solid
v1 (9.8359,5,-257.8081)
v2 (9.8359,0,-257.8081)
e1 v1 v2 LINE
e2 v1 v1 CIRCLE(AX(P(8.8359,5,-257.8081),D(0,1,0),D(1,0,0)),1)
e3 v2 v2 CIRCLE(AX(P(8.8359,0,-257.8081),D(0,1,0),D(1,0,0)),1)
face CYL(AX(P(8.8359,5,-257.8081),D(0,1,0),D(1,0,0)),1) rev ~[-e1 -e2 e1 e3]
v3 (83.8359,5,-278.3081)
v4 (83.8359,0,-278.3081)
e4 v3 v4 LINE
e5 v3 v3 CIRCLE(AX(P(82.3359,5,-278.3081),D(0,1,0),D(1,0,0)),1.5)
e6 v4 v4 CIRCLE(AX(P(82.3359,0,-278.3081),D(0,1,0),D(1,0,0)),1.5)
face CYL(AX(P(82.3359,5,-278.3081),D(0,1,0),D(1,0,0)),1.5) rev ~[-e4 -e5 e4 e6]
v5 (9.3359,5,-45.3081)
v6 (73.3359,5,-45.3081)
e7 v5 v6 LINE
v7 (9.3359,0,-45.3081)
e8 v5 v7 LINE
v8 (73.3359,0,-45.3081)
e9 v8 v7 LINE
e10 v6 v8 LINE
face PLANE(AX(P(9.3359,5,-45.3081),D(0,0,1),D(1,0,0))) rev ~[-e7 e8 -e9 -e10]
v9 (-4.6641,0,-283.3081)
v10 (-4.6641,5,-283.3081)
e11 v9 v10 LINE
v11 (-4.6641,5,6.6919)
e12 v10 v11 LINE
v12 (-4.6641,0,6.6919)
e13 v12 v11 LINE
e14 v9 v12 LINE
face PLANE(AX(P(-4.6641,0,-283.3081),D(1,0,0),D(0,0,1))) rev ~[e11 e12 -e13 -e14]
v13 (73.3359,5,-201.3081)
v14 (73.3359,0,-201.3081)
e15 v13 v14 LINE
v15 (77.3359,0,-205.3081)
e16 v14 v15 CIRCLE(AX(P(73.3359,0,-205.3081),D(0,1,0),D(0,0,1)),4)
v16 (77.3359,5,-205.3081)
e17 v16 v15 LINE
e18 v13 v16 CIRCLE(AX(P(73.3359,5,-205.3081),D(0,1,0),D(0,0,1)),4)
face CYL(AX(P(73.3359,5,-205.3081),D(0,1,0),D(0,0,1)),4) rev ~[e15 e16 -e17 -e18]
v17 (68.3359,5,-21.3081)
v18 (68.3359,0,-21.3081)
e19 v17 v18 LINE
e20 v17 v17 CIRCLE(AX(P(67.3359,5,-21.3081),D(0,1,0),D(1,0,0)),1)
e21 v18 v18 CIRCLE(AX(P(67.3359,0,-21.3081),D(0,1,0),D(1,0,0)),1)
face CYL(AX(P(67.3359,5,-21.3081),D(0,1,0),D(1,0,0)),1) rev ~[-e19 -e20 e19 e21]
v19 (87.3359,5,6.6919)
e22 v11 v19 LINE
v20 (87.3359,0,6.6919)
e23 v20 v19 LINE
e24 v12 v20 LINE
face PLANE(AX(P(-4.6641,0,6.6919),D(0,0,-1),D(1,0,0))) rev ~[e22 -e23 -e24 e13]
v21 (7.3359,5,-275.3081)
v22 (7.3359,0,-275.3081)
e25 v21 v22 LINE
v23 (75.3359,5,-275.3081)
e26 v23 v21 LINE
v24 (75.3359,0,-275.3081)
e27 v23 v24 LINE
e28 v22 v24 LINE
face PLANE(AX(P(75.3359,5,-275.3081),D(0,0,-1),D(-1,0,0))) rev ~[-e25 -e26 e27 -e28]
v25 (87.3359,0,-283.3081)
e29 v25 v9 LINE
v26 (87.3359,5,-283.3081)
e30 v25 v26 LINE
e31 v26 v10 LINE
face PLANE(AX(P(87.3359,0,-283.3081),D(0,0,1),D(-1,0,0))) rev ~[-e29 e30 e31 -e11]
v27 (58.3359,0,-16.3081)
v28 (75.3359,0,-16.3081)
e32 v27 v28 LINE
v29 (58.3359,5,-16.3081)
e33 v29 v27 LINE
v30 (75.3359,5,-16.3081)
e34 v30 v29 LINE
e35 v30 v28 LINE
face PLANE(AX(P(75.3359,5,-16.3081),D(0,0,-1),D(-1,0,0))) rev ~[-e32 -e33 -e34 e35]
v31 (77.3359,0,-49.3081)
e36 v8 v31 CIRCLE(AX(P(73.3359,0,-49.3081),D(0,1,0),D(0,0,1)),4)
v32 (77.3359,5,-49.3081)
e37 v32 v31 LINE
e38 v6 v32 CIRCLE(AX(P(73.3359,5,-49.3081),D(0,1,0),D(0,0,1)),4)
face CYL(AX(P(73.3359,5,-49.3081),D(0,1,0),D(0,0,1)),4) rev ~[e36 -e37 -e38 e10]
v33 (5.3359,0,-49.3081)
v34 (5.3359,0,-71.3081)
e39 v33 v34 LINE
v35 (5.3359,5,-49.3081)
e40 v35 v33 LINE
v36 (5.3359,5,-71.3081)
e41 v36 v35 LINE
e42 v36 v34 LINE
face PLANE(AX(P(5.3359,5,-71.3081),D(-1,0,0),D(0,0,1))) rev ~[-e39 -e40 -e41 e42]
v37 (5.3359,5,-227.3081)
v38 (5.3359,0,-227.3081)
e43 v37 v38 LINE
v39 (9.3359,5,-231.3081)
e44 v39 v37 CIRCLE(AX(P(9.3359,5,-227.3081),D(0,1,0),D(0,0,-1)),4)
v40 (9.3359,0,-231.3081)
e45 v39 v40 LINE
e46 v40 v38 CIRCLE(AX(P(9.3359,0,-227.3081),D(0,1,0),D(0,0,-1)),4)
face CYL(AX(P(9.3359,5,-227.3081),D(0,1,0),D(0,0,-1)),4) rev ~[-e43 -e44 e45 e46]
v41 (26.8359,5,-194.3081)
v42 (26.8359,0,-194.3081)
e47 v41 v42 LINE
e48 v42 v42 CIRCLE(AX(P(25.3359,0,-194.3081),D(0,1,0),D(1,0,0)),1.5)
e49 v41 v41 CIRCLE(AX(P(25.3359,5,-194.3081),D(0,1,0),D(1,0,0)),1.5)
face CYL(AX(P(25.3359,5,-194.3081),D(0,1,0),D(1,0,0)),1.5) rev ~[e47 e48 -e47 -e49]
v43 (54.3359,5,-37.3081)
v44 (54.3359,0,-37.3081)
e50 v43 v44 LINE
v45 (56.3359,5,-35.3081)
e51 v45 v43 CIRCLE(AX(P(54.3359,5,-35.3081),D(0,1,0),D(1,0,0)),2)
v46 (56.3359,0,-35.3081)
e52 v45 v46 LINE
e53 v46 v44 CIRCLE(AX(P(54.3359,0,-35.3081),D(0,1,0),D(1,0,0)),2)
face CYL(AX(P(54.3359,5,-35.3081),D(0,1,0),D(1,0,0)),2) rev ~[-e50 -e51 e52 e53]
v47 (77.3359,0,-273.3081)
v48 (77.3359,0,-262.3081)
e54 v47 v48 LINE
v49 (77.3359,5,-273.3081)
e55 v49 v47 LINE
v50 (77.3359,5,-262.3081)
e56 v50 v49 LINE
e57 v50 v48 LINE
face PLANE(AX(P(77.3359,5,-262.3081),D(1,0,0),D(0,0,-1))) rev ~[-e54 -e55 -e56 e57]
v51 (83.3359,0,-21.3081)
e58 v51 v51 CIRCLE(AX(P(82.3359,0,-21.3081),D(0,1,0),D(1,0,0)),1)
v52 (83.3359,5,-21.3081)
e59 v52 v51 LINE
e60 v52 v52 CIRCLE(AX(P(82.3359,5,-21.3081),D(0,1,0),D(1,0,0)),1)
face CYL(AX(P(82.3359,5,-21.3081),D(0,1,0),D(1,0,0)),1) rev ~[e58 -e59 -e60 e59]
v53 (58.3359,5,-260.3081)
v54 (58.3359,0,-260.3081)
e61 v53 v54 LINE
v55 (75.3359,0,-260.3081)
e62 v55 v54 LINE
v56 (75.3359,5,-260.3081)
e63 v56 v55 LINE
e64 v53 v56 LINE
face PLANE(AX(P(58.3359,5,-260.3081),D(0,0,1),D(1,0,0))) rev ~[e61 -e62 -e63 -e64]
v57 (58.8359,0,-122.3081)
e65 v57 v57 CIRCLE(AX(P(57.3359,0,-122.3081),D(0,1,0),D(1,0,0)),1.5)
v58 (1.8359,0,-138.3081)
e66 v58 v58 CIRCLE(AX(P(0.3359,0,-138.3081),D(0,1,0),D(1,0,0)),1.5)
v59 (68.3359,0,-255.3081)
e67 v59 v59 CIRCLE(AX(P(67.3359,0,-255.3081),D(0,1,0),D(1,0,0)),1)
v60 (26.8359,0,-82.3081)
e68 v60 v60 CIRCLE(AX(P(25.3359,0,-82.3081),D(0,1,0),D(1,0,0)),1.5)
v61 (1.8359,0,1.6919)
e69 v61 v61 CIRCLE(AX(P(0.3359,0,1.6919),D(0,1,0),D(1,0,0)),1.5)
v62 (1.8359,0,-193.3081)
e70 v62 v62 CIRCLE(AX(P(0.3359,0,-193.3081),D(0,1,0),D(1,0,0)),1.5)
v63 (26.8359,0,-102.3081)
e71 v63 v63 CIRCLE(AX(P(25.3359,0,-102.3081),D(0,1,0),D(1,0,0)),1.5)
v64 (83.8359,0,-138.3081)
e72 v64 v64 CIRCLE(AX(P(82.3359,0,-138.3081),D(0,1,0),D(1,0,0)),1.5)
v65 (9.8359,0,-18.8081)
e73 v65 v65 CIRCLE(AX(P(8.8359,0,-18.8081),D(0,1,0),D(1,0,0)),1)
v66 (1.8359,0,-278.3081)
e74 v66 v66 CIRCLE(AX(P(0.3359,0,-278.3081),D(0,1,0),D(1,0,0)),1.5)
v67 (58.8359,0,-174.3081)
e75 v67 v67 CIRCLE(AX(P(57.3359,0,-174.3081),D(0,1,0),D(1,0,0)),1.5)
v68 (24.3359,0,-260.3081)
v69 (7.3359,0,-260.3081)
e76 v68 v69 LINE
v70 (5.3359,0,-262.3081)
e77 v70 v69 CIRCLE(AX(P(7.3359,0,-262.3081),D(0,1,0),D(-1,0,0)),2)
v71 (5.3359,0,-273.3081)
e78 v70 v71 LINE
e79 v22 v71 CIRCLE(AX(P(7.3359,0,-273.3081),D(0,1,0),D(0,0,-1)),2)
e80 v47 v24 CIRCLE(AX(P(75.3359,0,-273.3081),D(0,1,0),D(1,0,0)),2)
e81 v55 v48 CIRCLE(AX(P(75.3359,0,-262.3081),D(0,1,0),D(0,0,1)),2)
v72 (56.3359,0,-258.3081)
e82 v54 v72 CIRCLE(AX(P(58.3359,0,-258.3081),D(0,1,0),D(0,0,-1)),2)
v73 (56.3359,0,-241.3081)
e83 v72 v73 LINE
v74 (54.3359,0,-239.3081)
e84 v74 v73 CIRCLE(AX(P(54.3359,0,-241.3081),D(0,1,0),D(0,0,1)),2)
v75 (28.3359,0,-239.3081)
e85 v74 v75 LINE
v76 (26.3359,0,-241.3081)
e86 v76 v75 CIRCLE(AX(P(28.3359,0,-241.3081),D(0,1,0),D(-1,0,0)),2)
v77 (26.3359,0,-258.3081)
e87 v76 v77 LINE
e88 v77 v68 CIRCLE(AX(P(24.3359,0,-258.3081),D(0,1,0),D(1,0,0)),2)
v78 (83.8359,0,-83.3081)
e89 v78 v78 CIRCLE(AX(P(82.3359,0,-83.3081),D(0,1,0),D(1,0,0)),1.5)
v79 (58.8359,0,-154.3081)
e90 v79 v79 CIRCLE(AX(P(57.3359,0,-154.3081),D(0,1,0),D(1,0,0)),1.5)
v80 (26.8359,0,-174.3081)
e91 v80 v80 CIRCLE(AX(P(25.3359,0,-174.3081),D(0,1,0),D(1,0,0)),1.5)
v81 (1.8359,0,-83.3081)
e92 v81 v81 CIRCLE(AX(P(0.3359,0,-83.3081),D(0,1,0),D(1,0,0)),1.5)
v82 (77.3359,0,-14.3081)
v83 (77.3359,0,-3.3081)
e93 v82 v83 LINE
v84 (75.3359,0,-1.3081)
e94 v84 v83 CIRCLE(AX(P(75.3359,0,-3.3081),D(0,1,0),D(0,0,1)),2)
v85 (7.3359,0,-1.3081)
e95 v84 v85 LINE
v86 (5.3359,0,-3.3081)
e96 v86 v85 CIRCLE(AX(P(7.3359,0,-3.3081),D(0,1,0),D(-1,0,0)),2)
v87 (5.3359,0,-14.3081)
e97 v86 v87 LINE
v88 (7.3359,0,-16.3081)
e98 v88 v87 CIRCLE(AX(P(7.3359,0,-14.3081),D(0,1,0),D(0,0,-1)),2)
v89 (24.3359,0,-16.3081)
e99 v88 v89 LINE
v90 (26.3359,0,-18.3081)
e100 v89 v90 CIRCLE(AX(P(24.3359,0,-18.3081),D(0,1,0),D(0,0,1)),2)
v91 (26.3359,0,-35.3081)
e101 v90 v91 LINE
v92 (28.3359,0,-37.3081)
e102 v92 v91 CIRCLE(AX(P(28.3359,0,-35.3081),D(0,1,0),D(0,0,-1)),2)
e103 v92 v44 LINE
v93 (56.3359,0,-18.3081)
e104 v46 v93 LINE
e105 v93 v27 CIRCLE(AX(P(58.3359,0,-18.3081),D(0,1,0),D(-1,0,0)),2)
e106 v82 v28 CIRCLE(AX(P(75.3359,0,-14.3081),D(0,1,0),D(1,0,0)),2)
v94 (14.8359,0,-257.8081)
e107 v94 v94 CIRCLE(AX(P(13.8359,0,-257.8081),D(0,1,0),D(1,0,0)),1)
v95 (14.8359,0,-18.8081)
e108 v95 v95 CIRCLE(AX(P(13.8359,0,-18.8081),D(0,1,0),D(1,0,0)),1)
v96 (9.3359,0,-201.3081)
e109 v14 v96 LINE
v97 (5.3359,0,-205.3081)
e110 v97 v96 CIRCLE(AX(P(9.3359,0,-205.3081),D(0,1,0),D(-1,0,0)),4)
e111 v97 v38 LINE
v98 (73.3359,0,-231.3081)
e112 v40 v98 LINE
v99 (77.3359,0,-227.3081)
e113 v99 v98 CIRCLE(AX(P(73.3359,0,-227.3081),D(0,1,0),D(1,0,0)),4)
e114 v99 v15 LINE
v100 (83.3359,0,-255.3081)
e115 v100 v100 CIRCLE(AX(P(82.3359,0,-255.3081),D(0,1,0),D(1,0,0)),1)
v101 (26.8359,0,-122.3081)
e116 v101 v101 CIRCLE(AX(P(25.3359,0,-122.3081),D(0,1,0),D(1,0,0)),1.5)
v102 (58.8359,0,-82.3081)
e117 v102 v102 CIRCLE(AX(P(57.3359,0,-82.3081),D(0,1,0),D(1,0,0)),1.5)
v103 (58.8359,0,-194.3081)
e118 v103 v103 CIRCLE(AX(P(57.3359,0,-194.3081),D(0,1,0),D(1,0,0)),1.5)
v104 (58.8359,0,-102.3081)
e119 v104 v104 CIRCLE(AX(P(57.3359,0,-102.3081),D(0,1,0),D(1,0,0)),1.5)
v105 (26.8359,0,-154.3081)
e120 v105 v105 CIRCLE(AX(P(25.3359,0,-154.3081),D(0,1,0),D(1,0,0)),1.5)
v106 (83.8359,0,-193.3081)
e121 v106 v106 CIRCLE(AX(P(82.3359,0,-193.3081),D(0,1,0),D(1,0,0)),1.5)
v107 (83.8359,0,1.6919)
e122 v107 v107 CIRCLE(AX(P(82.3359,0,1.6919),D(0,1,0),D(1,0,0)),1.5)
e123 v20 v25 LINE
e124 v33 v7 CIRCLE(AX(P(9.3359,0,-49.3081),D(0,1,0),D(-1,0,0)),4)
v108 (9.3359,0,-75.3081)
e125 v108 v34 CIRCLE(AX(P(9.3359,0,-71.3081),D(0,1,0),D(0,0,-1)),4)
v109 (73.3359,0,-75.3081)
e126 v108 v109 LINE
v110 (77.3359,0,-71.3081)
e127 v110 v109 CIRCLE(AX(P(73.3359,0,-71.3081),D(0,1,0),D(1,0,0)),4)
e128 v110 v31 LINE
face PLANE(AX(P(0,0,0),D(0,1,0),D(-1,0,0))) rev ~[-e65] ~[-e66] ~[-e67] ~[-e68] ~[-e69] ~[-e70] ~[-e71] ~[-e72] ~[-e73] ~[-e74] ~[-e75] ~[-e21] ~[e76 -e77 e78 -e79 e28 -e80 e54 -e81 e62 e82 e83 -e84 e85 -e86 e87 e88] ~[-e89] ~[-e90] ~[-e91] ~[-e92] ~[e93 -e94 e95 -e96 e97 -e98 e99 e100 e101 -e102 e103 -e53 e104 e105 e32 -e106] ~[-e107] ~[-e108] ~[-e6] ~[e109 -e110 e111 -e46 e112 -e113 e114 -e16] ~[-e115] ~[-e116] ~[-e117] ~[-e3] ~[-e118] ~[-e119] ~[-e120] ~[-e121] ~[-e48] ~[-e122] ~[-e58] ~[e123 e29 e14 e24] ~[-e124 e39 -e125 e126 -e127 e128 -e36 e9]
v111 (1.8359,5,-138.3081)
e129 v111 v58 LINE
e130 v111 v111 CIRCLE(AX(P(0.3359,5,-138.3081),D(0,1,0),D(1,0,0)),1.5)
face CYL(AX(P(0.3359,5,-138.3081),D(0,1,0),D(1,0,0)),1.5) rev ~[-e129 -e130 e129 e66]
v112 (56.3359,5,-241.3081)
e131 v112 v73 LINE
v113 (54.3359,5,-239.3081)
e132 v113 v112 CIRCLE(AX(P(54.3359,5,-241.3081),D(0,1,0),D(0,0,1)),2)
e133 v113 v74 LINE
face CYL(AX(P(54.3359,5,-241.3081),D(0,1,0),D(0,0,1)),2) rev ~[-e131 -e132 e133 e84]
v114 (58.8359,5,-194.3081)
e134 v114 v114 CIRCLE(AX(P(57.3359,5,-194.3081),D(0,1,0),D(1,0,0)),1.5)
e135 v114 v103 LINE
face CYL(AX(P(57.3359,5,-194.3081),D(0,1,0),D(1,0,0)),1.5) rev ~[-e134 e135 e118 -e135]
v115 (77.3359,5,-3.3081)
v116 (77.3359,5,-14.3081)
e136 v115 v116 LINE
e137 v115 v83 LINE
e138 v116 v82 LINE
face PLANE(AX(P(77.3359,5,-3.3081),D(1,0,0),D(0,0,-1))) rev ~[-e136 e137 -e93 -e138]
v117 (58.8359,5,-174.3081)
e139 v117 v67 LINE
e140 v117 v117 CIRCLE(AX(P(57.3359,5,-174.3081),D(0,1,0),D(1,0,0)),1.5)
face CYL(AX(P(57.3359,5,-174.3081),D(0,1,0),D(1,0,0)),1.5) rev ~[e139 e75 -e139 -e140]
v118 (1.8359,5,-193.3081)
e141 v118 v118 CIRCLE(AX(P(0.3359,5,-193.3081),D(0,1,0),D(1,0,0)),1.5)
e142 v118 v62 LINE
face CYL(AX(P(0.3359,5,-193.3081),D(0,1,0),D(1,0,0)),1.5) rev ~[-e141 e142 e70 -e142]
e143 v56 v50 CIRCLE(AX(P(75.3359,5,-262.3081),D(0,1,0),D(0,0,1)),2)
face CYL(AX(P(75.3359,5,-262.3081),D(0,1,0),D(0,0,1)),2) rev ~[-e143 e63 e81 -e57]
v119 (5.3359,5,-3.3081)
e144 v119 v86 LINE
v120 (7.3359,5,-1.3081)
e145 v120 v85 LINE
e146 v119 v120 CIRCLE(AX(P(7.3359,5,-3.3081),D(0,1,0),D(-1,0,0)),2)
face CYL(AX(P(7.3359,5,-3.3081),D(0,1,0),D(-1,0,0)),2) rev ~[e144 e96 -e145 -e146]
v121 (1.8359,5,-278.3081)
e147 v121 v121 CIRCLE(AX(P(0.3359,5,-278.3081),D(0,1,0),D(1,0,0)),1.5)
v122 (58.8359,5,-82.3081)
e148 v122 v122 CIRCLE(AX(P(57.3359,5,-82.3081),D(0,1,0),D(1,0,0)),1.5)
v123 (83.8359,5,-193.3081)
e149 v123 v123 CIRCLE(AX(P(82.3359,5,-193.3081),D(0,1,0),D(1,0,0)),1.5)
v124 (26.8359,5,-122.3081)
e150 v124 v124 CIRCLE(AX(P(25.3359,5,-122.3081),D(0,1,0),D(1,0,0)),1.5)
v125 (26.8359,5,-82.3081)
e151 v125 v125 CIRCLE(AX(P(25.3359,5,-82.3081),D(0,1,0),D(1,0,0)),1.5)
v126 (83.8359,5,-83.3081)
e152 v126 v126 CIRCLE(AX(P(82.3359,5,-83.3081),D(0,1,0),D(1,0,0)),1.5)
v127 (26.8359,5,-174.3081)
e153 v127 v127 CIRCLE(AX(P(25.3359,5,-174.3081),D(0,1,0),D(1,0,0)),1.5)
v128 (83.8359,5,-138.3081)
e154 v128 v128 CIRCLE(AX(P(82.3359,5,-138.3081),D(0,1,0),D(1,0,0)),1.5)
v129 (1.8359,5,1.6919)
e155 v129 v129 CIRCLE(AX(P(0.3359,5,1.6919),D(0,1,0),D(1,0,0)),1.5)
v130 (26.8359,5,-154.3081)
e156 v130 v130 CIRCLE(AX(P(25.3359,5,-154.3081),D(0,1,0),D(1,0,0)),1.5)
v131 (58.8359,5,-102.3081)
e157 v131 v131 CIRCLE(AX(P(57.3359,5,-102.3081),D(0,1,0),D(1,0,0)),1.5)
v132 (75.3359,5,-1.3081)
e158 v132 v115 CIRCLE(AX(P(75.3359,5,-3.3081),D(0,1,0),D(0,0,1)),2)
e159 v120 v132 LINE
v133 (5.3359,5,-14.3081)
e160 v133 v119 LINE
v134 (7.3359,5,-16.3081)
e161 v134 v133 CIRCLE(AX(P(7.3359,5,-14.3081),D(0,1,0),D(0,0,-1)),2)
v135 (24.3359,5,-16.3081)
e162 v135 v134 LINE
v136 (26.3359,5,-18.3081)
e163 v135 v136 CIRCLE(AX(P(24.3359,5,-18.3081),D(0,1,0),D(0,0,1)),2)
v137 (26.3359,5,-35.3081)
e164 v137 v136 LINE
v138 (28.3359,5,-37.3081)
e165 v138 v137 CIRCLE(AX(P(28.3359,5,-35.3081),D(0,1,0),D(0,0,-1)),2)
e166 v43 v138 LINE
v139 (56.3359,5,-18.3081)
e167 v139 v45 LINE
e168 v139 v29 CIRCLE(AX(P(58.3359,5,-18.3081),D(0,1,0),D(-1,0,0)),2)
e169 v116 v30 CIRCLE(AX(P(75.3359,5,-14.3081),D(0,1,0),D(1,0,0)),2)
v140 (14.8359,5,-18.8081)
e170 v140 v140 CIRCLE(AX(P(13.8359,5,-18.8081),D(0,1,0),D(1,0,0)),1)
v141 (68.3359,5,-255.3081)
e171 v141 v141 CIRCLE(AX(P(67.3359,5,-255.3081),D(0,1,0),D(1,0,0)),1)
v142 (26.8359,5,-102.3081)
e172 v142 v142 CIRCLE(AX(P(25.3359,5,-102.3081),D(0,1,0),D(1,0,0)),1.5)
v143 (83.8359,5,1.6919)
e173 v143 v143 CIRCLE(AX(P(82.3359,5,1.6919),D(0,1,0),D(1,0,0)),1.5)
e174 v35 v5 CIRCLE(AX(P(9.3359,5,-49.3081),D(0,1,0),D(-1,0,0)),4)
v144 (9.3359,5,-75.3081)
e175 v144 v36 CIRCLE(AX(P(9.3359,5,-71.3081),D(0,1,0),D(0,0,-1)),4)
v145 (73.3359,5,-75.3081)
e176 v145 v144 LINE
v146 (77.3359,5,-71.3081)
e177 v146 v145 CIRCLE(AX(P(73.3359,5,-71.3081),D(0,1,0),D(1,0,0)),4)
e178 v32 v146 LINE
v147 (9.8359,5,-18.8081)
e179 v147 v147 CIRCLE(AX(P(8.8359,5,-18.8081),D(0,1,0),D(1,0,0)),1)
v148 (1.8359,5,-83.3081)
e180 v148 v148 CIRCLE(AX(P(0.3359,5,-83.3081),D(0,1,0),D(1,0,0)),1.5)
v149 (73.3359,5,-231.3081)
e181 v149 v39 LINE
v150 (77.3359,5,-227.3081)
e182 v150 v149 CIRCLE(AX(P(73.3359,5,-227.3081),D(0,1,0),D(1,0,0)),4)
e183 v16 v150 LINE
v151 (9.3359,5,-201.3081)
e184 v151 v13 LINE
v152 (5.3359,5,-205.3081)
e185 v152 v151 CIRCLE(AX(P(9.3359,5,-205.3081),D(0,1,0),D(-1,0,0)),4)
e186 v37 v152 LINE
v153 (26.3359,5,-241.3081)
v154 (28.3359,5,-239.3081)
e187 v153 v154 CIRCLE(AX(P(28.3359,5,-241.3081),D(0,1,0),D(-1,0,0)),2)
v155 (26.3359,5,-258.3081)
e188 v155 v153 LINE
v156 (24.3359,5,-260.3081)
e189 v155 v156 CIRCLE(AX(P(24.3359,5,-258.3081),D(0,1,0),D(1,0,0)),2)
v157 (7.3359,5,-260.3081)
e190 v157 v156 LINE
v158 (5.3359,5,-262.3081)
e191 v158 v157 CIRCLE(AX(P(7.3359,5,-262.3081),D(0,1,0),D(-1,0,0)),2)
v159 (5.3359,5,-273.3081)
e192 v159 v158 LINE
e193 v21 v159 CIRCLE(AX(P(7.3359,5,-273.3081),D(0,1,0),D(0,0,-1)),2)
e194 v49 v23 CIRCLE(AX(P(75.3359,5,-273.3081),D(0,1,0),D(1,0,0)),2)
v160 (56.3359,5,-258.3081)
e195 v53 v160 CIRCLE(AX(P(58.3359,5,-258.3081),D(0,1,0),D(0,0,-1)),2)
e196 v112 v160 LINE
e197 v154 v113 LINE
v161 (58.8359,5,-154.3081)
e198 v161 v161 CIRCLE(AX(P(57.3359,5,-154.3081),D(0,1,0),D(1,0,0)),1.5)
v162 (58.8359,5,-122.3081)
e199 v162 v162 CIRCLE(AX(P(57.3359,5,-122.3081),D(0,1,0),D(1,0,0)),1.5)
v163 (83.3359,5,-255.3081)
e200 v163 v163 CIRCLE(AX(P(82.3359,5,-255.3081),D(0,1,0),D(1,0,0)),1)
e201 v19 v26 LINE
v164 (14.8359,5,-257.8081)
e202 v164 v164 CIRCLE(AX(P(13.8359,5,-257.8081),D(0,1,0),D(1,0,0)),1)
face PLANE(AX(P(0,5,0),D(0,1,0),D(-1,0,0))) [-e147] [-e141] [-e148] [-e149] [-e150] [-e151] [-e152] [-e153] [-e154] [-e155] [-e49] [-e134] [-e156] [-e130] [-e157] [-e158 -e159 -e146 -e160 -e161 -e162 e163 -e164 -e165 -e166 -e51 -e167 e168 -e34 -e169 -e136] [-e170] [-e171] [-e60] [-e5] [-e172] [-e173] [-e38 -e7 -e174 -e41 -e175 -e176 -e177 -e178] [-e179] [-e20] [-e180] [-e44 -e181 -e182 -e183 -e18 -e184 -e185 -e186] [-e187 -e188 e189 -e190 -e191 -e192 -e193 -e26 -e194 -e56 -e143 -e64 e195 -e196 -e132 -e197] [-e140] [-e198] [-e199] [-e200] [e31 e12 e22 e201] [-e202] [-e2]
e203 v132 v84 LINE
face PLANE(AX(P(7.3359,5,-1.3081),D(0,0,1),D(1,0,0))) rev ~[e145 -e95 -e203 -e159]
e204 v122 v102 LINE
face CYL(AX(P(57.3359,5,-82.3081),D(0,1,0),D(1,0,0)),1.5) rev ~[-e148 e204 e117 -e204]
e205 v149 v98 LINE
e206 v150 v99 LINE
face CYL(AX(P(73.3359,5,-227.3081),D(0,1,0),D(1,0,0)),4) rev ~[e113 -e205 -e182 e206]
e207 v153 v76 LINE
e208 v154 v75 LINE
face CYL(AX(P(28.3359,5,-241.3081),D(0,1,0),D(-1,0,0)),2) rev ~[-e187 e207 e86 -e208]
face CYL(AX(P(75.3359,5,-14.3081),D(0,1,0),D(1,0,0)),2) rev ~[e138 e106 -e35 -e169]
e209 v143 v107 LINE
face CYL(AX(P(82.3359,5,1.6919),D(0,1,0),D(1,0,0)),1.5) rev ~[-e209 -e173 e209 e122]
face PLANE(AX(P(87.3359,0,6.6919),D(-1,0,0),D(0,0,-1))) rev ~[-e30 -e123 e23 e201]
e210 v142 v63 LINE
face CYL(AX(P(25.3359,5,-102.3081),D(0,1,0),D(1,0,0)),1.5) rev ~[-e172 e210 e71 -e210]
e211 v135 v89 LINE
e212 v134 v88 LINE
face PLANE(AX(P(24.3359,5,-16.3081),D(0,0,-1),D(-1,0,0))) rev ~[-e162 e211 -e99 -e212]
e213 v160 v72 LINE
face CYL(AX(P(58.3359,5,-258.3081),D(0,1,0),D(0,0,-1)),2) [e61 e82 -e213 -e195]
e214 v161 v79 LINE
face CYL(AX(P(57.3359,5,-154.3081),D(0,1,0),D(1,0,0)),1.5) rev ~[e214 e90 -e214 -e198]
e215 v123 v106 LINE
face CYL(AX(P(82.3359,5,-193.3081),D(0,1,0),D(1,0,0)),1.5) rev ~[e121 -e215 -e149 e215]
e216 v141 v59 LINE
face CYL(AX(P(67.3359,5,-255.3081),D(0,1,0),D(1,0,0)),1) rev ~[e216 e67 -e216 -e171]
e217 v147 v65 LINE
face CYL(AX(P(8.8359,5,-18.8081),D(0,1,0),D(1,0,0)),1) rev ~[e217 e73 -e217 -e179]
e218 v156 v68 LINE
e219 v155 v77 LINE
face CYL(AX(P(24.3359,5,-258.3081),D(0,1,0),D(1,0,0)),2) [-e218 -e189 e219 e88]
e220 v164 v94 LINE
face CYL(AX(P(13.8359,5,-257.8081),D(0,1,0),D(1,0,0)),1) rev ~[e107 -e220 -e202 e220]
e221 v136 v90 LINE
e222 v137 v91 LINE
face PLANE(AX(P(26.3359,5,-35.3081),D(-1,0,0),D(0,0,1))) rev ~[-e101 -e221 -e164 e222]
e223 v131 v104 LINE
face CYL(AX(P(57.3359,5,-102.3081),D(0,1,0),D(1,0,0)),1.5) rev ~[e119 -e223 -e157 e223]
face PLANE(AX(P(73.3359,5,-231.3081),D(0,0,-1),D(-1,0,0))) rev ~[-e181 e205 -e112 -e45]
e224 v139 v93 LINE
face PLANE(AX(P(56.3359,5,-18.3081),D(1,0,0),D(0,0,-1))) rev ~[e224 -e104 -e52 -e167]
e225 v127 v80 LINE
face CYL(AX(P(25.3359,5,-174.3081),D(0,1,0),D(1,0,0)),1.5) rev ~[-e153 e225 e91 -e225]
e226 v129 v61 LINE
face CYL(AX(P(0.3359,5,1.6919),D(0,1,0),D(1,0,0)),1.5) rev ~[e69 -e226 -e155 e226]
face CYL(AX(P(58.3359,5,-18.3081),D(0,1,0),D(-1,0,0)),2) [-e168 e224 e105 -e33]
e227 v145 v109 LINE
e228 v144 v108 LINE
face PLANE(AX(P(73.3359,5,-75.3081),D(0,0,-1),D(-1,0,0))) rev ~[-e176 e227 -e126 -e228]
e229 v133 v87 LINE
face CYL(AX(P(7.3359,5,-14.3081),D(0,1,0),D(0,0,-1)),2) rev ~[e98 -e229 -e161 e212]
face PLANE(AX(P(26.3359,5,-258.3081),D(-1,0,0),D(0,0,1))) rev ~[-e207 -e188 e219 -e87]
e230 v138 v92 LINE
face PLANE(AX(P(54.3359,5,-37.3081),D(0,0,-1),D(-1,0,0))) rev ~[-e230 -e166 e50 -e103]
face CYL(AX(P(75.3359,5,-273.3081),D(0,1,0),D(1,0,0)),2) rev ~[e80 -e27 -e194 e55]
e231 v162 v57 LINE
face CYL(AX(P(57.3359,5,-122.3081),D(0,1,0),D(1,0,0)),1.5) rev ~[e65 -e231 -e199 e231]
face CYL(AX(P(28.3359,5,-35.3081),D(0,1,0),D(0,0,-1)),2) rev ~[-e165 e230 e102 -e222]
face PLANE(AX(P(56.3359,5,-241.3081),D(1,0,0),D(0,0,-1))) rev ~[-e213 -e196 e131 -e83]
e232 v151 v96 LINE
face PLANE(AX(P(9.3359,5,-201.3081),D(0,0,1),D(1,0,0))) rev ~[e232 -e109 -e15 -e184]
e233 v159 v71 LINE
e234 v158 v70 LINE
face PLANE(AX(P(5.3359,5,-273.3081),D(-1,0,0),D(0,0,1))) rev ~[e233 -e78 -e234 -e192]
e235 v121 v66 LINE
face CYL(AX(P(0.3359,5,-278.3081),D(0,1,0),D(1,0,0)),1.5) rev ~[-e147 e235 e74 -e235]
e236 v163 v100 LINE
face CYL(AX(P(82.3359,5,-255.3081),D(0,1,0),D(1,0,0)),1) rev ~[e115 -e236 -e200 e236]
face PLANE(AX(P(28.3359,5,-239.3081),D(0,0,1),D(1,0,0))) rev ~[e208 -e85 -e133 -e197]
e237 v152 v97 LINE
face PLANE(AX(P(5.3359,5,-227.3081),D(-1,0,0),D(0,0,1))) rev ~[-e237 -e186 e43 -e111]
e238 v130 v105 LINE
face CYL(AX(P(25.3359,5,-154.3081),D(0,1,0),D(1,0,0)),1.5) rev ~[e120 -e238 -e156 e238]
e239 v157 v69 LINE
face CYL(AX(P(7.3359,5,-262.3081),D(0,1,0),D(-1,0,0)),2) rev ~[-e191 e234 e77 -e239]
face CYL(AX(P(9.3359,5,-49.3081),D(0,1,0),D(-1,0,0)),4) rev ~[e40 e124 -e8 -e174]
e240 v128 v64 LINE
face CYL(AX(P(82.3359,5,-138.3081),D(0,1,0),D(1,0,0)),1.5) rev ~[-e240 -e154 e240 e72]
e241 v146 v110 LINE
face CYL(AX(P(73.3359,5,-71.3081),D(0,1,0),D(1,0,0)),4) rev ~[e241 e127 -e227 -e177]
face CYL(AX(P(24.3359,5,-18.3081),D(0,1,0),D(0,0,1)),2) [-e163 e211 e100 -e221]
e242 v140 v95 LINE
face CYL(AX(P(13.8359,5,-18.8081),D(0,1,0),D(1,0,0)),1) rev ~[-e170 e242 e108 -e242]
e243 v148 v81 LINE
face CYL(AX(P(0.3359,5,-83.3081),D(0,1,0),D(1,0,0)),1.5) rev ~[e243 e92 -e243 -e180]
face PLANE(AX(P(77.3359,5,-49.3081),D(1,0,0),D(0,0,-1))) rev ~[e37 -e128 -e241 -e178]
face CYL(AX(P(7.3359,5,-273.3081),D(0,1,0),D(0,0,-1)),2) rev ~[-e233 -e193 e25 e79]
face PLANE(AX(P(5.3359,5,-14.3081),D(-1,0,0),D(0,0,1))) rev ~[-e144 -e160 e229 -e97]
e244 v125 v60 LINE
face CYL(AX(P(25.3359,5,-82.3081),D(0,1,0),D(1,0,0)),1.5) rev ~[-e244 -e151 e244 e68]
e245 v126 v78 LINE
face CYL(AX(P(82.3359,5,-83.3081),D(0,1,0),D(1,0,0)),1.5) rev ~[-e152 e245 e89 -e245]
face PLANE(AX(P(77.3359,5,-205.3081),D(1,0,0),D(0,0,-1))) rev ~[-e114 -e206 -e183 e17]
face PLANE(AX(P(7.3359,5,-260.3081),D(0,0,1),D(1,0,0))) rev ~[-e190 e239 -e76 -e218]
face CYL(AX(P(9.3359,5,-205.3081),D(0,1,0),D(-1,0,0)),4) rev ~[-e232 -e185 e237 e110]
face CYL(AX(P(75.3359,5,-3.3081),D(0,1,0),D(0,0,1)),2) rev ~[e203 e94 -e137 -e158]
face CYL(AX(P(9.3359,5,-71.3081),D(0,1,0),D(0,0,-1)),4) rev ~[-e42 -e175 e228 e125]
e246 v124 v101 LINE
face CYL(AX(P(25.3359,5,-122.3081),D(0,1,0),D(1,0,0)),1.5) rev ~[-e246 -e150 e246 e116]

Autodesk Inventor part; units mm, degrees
ref_plane "YZ Plane" through (0, 0, 0) normal (1, 0, 0) x (0, 1, 0)
ref_plane "XZ Plane" through (0, 0, 0) normal (0, 1, 0) x (-1, 0, 0)
ref_plane "XY Plane" through (0, 0, 0) normal (0, 0, 1) x (1, 0, 0)
sketch "Sketch1" plane through (0, 0, 0) normal (0, 1, 0) x (-1, 0, 0)
  line L0 (4.6641, 6.6919) -> (-87.3359, 6.6919)
  line L1 (-87.3359, 6.6919) -> (-87.3359, -283.3081)
  line L2 (-87.3359, -283.3081) -> (4.6641, -283.3081)
  line L3 (4.6641, -283.3081) -> (4.6641, 6.6919)
  point P0 (0, 0)
  dimension "d0" = 290
  dimension "d1" = 92
extrude "Extrusion1" add sketch "Sketch1" along normal blind 5
sketch "Sketch2" plane through (0, 5, 0) normal (0, 1, 0) x (1, 0, 0)
  line L0 (-4.6641, 283.3081) -> (-4.6641, -6.6919) projected
  line L1 (87.3359, -6.6919) -> (87.3359, 283.3081) projected
  line L2 (9.3359, 45.3081) -> (73.3359, 45.3081)
  line L3 (77.3359, 49.3081) -> (77.3359, 71.3081)
  line L4 (73.3359, 75.3081) -> (9.3359, 75.3081)
  line L5 (5.3359, 71.3081) -> (5.3359, 49.3081)
  line L6 (-4.6641, -6.6919) -> (87.3359, -6.6919) projected
  arc A0 (5.3359, 49.3081) -> (9.3359, 45.3081) centre (9.3359, 49.3081) ccw
  arc A1 (9.3359, 75.3081) -> (5.3359, 71.3081) centre (9.3359, 71.3081) ccw
  arc A2 (77.3359, 71.3081) -> (73.3359, 75.3081) centre (73.3359, 71.3081) ccw
  arc A3 (73.3359, 45.3081) -> (77.3359, 49.3081) centre (73.3359, 49.3081) ccw
  line L7 (9.3359, 201.3081) -> (73.3359, 201.3081)
  line L8 (77.3359, 205.3081) -> (77.3359, 227.3081)
  line L9 (73.3359, 231.3081) -> (9.3359, 231.3081)
  line L10 (5.3359, 227.3081) -> (5.3359, 205.3081)
  arc A4 (5.3359, 205.3081) -> (9.3359, 201.3081) centre (9.3359, 205.3081) ccw
  arc A5 (9.3359, 231.3081) -> (5.3359, 227.3081) centre (9.3359, 227.3081) ccw
  arc A6 (77.3359, 227.3081) -> (73.3359, 231.3081) centre (73.3359, 227.3081) ccw
  arc A7 (73.3359, 201.3081) -> (77.3359, 205.3081) centre (73.3359, 205.3081) ccw
  line L11 (7.3359, 1.3081) -> (75.3359, 1.3081)
  line L12 (77.3359, 3.3081) -> (77.3359, 14.3081)
  line L13 (75.3359, 16.3081) -> (58.3359, 16.3081)
  line L14 (56.3359, 18.3081) -> (56.3359, 35.3081)
  line L15 (54.3359, 37.3081) -> (28.3359, 37.3081)
  line L16 (26.3359, 35.3081) -> (26.3359, 18.3081)
  line L17 (24.3359, 16.3081) -> (7.3359, 16.3081)
  line L18 (5.3359, 14.3081) -> (5.3359, 3.3081)
  arc A8 (5.3359, 3.3081) -> (7.3359, 1.3081) centre (7.3359, 3.3081) ccw
  arc A9 (7.3359, 16.3081) -> (5.3359, 14.3081) centre (7.3359, 14.3081) ccw
  arc A10 (24.3359, 16.3081) -> (26.3359, 18.3081) centre (24.3359, 18.3081) ccw
  arc A11 (28.3359, 37.3081) -> (26.3359, 35.3081) centre (28.3359, 35.3081) ccw
  arc A12 (56.3359, 35.3081) -> (54.3359, 37.3081) centre (54.3359, 35.3081) ccw
  arc A13 (56.3359, 18.3081) -> (58.3359, 16.3081) centre (58.3359, 18.3081) ccw
  arc A14 (77.3359, 14.3081) -> (75.3359, 16.3081) centre (75.3359, 14.3081) ccw
  arc A15 (75.3359, 1.3081) -> (77.3359, 3.3081) centre (75.3359, 3.3081) ccw
  line L19 (87.3359, 283.3081) -> (-4.6641, 283.3081) projected
  line L20 (5.3359, 273.3081) -> (5.3359, 262.3081)
  line L21 (7.3359, 260.3081) -> (24.3359, 260.3081)
  line L22 (26.3359, 258.3081) -> (26.3359, 241.3081)
  line L23 (28.3359, 239.3081) -> (54.3359, 239.3081)
  line L24 (56.3359, 241.3081) -> (56.3359, 258.3081)
  line L25 (58.3359, 260.3081) -> (75.3359, 260.3081)
  line L26 (77.3359, 262.3081) -> (77.3359, 273.3081)
  line L27 (75.3359, 275.3081) -> (7.3359, 275.3081)
  arc A16 (26.3359, 258.3081) -> (24.3359, 260.3081) centre (24.3359, 258.3081) ccw
  arc A17 (5.3359, 262.3081) -> (7.3359, 260.3081) centre (7.3359, 262.3081) ccw
  arc A18 (7.3359, 275.3081) -> (5.3359, 273.3081) centre (7.3359, 273.3081) ccw
  arc A19 (77.3359, 273.3081) -> (75.3359, 275.3081) centre (75.3359, 273.3081) ccw
  arc A20 (75.3359, 260.3081) -> (77.3359, 262.3081) centre (75.3359, 262.3081) ccw
  arc A21 (58.3359, 260.3081) -> (56.3359, 258.3081) centre (58.3359, 258.3081) ccw
  arc A22 (54.3359, 239.3081) -> (56.3359, 241.3081) centre (54.3359, 241.3081) ccw
  arc A23 (26.3359, 241.3081) -> (28.3359, 239.3081) centre (28.3359, 241.3081) ccw
  point P0 (5.3359, 45.3081)
  point P1 (77.3359, 75.3081)
  point P2 (5.3359, 75.3081)
  point P3 (5.3359, 201.3081)
  point P4 (77.3359, 201.3081)
  point P5 (5.3359, 231.3081)
  point P6 (5.3359, 1.3081)
  point P7 (77.3359, 1.3081)
  point P8 (77.3359, 16.3081)
  point P9 (56.3359, 16.3081)
  point P10 (26.3359, 16.3081)
  point P11 (5.3359, 16.3081)
  point P12 (5.3359, 275.3081)
  point P13 (5.3359, 260.3081)
  point P14 (26.3359, 260.3081)
  point P15 (56.3359, 260.3081)
  point P16 (77.3359, 260.3081)
  point P17 (77.3359, 275.3081)
  dimension "d12" = 30
  dimension "d13" = 72
  dimension "d14" = 10
  dimension "d16" = 4
  dimension "d17" = 30
  dimension "d18" = 10
  dimension "d19" = 72
  dimension "d21" = 4
  dimension "d41" = 10
  dimension "d42" = 72
  dimension "d43" = 15
  dimension "d44" = 21
  dimension "d45" = 21
  dimension "d46" = 36
  dimension "d47" = 15
  dimension "d48" = 8
  dimension "d49" = 2
  dimension "d58" = 10
  dimension "d59" = 8
  dimension "d60" = 72
  dimension "d61" = 15
  dimension "d62" = 36
  dimension "d63" = 21
  dimension "d64" = 21
  dimension "d65" = 2
  dimension "d66" = 2
  dimension "d170" = 8
  dimension "d171" = 8
extrude "Extrusion2" cut sketch "Sketch2" against normal up to next contours A0 L5 A1 L4 A2 L3 A3 L2 | A4 L10 A5 L9 A6 L8 A7 L7 | A8 L18 A9 L17 A10 L16 A11 L15 A12 L14 A13 L13 A14 L12 A15 L11 | A18 L27 A19 L26 A20 L25 A21 L24 A22 L23 A23 L22 A16 L21 A17 L20
sketch "Sketch3" plane through (0, 5, 0) normal (0, 1, 0) x (1, 0, 0)
  circle A0 centre (0.3359, -1.6919) radius 1.5
  circle A1 centre (82.3359, -1.6919) radius 1.5
  circle A2 centre (0.3359, 83.3081) radius 1.5
  circle A3 centre (0.3359, 138.3081) radius 1.5
  circle A4 centre (0.3359, 193.3081) radius 1.5
  circle A5 centre (0.3359, 278.3081) radius 1.5
  circle A6 centre (82.3359, 83.3081) radius 1.5
  circle A7 centre (82.3359, 138.3081) radius 1.5
  circle A8 centre (82.3359, 193.3081) radius 1.5
  circle A9 centre (82.3359, 278.3081) radius 1.5
  line L0 (-4.6641, -6.6919) -> (87.3359, -6.6919) projected
  line L1 (-4.6641, 283.3081) -> (-4.6641, -6.6919) projected
  line L2 (87.3359, -6.6919) -> (87.3359, 283.3081) projected
  line L3 (87.3359, 283.3081) -> (-4.6641, 283.3081) projected
  circle A10 centre (82.3359, 21.3081) radius 1
  circle A11 centre (67.3359, 21.3081) radius 1
  circle A12 centre (82.3359, 255.3081) radius 1
  circle A13 centre (67.3359, 255.3081) radius 1
  circle A14 centre (25.3359, 82.3081) radius 1.5
  circle A15 centre (25.3359, 102.3081) radius 1.5
  circle A16 centre (57.3359, 82.3081) radius 1.5
  circle A17 centre (57.3359, 102.3081) radius 1.5
  circle A18 centre (25.3359, 194.3081) radius 1.5
  circle A19 centre (25.3359, 174.3081) radius 1.5
  circle A20 centre (57.3359, 194.3081) radius 1.5
  circle A21 centre (57.3359, 174.3081) radius 1.5
  line L4 (9.3359, 75.3081) -> (73.3359, 75.3081) projected
  line L5 (73.3359, 201.3081) -> (9.3359, 201.3081) projected
  circle A22 centre (57.3359, 122.3081) radius 1.5
  circle A23 centre (25.3359, 122.3081) radius 1.5
  circle A24 centre (25.3359, 154.3081) radius 1.5
  circle A25 centre (57.3359, 154.3081) radius 1.5
  line L6 (75.3359, 260.3081) -> (58.3359, 260.3081) projected
  line L7 (58.3359, 16.3081) -> (75.3359, 16.3081) projected
  circle A26 centre (8.8359, 18.8081) radius 1
  circle A27 centre (13.8359, 18.8081) radius 1
  line L8 (26.3359, 18.3081) -> (26.3359, 35.3081) projected
  line L9 (7.3359, 16.3081) -> (24.3359, 16.3081) projected
  circle A28 centre (13.8359, 257.8081) radius 1
  circle A29 centre (8.8359, 257.8081) radius 1
  line L10 (26.3359, 241.3081) -> (26.3359, 258.3081) projected
  line L11 (24.3359, 260.3081) -> (7.3359, 260.3081) projected
  point P0 (0, 0)
  dimension "d70" = 3
  dimension "d71" = 5
  dimension "d72" = 5
  dimension "d73" = 3
  dimension "d74" = 5
  dimension "d75" = 5
  dimension "d77" = 3
  dimension "d78" = 3
  dimension "d79" = 3
  dimension "d81" = 3
  dimension "d82" = 3
  dimension "d84" = 3
  dimension "d85" = 3
  dimension "d86" = 3
  dimension "d89" = 5
  dimension "d90" = 5
  dimension "d91" = 5
  dimension "d93" = 5
  dimension "d95" = 5
  dimension "d96" = 5
  dimension "d97" = 5
  dimension "d99" = 5
  dimension "d100" = 5
  dimension "d101" = 5
  dimension "d106" = 145
  dimension "d107" = 145
  dimension "d108" = 90
  dimension "d109" = 90
  dimension "d110" = 90
  dimension "d111" = 90
  dimension "d112" = 2
  dimension "d113" = 2
  dimension "d114" = 2
  dimension "d115" = 2
  dimension "d116" = 5
  dimension "d119" = 20
  dimension "d120" = 5
  dimension "d121" = 20
  dimension "d124" = 3
  dimension "d125" = 3
  dimension "d127" = 3
  dimension "d128" = 3
  dimension "d131" = 3
  dimension "d132" = 3
  dimension "d133" = 3
  dimension "d134" = 3
  dimension "d136" = 30
  dimension "d137" = 30
  dimension "d139" = 30
  dimension "d140" = 30
  dimension "d143" = 30
  dimension "d144" = 30
  dimension "d145" = 30
  dimension "d146" = 30
  dimension "d148" = 7
  dimension "d149" = 7
  dimension "d150" = 7
  dimension "d151" = 7
  dimension "d152" = 20
  dimension "d153" = 3
  dimension "d154" = 30
  dimension "d155" = 20
  dimension "d156" = 20
  dimension "d157" = 3
extrude "Extrusion3" cut sketch "Sketch3" against normal blind 5 contours A0 | A1 | A2 | A3 | A4 | A5 | A6 | A7 | A8 | A9 | A10 | A11 | A12 | A13 | A14 | A15 | A16 | A17 | A18 | A19 | A20 | A21 | A22 | A23 | A24 | A25 | A26 | A27 | A28 | A29
properties part number "base_roulante"
